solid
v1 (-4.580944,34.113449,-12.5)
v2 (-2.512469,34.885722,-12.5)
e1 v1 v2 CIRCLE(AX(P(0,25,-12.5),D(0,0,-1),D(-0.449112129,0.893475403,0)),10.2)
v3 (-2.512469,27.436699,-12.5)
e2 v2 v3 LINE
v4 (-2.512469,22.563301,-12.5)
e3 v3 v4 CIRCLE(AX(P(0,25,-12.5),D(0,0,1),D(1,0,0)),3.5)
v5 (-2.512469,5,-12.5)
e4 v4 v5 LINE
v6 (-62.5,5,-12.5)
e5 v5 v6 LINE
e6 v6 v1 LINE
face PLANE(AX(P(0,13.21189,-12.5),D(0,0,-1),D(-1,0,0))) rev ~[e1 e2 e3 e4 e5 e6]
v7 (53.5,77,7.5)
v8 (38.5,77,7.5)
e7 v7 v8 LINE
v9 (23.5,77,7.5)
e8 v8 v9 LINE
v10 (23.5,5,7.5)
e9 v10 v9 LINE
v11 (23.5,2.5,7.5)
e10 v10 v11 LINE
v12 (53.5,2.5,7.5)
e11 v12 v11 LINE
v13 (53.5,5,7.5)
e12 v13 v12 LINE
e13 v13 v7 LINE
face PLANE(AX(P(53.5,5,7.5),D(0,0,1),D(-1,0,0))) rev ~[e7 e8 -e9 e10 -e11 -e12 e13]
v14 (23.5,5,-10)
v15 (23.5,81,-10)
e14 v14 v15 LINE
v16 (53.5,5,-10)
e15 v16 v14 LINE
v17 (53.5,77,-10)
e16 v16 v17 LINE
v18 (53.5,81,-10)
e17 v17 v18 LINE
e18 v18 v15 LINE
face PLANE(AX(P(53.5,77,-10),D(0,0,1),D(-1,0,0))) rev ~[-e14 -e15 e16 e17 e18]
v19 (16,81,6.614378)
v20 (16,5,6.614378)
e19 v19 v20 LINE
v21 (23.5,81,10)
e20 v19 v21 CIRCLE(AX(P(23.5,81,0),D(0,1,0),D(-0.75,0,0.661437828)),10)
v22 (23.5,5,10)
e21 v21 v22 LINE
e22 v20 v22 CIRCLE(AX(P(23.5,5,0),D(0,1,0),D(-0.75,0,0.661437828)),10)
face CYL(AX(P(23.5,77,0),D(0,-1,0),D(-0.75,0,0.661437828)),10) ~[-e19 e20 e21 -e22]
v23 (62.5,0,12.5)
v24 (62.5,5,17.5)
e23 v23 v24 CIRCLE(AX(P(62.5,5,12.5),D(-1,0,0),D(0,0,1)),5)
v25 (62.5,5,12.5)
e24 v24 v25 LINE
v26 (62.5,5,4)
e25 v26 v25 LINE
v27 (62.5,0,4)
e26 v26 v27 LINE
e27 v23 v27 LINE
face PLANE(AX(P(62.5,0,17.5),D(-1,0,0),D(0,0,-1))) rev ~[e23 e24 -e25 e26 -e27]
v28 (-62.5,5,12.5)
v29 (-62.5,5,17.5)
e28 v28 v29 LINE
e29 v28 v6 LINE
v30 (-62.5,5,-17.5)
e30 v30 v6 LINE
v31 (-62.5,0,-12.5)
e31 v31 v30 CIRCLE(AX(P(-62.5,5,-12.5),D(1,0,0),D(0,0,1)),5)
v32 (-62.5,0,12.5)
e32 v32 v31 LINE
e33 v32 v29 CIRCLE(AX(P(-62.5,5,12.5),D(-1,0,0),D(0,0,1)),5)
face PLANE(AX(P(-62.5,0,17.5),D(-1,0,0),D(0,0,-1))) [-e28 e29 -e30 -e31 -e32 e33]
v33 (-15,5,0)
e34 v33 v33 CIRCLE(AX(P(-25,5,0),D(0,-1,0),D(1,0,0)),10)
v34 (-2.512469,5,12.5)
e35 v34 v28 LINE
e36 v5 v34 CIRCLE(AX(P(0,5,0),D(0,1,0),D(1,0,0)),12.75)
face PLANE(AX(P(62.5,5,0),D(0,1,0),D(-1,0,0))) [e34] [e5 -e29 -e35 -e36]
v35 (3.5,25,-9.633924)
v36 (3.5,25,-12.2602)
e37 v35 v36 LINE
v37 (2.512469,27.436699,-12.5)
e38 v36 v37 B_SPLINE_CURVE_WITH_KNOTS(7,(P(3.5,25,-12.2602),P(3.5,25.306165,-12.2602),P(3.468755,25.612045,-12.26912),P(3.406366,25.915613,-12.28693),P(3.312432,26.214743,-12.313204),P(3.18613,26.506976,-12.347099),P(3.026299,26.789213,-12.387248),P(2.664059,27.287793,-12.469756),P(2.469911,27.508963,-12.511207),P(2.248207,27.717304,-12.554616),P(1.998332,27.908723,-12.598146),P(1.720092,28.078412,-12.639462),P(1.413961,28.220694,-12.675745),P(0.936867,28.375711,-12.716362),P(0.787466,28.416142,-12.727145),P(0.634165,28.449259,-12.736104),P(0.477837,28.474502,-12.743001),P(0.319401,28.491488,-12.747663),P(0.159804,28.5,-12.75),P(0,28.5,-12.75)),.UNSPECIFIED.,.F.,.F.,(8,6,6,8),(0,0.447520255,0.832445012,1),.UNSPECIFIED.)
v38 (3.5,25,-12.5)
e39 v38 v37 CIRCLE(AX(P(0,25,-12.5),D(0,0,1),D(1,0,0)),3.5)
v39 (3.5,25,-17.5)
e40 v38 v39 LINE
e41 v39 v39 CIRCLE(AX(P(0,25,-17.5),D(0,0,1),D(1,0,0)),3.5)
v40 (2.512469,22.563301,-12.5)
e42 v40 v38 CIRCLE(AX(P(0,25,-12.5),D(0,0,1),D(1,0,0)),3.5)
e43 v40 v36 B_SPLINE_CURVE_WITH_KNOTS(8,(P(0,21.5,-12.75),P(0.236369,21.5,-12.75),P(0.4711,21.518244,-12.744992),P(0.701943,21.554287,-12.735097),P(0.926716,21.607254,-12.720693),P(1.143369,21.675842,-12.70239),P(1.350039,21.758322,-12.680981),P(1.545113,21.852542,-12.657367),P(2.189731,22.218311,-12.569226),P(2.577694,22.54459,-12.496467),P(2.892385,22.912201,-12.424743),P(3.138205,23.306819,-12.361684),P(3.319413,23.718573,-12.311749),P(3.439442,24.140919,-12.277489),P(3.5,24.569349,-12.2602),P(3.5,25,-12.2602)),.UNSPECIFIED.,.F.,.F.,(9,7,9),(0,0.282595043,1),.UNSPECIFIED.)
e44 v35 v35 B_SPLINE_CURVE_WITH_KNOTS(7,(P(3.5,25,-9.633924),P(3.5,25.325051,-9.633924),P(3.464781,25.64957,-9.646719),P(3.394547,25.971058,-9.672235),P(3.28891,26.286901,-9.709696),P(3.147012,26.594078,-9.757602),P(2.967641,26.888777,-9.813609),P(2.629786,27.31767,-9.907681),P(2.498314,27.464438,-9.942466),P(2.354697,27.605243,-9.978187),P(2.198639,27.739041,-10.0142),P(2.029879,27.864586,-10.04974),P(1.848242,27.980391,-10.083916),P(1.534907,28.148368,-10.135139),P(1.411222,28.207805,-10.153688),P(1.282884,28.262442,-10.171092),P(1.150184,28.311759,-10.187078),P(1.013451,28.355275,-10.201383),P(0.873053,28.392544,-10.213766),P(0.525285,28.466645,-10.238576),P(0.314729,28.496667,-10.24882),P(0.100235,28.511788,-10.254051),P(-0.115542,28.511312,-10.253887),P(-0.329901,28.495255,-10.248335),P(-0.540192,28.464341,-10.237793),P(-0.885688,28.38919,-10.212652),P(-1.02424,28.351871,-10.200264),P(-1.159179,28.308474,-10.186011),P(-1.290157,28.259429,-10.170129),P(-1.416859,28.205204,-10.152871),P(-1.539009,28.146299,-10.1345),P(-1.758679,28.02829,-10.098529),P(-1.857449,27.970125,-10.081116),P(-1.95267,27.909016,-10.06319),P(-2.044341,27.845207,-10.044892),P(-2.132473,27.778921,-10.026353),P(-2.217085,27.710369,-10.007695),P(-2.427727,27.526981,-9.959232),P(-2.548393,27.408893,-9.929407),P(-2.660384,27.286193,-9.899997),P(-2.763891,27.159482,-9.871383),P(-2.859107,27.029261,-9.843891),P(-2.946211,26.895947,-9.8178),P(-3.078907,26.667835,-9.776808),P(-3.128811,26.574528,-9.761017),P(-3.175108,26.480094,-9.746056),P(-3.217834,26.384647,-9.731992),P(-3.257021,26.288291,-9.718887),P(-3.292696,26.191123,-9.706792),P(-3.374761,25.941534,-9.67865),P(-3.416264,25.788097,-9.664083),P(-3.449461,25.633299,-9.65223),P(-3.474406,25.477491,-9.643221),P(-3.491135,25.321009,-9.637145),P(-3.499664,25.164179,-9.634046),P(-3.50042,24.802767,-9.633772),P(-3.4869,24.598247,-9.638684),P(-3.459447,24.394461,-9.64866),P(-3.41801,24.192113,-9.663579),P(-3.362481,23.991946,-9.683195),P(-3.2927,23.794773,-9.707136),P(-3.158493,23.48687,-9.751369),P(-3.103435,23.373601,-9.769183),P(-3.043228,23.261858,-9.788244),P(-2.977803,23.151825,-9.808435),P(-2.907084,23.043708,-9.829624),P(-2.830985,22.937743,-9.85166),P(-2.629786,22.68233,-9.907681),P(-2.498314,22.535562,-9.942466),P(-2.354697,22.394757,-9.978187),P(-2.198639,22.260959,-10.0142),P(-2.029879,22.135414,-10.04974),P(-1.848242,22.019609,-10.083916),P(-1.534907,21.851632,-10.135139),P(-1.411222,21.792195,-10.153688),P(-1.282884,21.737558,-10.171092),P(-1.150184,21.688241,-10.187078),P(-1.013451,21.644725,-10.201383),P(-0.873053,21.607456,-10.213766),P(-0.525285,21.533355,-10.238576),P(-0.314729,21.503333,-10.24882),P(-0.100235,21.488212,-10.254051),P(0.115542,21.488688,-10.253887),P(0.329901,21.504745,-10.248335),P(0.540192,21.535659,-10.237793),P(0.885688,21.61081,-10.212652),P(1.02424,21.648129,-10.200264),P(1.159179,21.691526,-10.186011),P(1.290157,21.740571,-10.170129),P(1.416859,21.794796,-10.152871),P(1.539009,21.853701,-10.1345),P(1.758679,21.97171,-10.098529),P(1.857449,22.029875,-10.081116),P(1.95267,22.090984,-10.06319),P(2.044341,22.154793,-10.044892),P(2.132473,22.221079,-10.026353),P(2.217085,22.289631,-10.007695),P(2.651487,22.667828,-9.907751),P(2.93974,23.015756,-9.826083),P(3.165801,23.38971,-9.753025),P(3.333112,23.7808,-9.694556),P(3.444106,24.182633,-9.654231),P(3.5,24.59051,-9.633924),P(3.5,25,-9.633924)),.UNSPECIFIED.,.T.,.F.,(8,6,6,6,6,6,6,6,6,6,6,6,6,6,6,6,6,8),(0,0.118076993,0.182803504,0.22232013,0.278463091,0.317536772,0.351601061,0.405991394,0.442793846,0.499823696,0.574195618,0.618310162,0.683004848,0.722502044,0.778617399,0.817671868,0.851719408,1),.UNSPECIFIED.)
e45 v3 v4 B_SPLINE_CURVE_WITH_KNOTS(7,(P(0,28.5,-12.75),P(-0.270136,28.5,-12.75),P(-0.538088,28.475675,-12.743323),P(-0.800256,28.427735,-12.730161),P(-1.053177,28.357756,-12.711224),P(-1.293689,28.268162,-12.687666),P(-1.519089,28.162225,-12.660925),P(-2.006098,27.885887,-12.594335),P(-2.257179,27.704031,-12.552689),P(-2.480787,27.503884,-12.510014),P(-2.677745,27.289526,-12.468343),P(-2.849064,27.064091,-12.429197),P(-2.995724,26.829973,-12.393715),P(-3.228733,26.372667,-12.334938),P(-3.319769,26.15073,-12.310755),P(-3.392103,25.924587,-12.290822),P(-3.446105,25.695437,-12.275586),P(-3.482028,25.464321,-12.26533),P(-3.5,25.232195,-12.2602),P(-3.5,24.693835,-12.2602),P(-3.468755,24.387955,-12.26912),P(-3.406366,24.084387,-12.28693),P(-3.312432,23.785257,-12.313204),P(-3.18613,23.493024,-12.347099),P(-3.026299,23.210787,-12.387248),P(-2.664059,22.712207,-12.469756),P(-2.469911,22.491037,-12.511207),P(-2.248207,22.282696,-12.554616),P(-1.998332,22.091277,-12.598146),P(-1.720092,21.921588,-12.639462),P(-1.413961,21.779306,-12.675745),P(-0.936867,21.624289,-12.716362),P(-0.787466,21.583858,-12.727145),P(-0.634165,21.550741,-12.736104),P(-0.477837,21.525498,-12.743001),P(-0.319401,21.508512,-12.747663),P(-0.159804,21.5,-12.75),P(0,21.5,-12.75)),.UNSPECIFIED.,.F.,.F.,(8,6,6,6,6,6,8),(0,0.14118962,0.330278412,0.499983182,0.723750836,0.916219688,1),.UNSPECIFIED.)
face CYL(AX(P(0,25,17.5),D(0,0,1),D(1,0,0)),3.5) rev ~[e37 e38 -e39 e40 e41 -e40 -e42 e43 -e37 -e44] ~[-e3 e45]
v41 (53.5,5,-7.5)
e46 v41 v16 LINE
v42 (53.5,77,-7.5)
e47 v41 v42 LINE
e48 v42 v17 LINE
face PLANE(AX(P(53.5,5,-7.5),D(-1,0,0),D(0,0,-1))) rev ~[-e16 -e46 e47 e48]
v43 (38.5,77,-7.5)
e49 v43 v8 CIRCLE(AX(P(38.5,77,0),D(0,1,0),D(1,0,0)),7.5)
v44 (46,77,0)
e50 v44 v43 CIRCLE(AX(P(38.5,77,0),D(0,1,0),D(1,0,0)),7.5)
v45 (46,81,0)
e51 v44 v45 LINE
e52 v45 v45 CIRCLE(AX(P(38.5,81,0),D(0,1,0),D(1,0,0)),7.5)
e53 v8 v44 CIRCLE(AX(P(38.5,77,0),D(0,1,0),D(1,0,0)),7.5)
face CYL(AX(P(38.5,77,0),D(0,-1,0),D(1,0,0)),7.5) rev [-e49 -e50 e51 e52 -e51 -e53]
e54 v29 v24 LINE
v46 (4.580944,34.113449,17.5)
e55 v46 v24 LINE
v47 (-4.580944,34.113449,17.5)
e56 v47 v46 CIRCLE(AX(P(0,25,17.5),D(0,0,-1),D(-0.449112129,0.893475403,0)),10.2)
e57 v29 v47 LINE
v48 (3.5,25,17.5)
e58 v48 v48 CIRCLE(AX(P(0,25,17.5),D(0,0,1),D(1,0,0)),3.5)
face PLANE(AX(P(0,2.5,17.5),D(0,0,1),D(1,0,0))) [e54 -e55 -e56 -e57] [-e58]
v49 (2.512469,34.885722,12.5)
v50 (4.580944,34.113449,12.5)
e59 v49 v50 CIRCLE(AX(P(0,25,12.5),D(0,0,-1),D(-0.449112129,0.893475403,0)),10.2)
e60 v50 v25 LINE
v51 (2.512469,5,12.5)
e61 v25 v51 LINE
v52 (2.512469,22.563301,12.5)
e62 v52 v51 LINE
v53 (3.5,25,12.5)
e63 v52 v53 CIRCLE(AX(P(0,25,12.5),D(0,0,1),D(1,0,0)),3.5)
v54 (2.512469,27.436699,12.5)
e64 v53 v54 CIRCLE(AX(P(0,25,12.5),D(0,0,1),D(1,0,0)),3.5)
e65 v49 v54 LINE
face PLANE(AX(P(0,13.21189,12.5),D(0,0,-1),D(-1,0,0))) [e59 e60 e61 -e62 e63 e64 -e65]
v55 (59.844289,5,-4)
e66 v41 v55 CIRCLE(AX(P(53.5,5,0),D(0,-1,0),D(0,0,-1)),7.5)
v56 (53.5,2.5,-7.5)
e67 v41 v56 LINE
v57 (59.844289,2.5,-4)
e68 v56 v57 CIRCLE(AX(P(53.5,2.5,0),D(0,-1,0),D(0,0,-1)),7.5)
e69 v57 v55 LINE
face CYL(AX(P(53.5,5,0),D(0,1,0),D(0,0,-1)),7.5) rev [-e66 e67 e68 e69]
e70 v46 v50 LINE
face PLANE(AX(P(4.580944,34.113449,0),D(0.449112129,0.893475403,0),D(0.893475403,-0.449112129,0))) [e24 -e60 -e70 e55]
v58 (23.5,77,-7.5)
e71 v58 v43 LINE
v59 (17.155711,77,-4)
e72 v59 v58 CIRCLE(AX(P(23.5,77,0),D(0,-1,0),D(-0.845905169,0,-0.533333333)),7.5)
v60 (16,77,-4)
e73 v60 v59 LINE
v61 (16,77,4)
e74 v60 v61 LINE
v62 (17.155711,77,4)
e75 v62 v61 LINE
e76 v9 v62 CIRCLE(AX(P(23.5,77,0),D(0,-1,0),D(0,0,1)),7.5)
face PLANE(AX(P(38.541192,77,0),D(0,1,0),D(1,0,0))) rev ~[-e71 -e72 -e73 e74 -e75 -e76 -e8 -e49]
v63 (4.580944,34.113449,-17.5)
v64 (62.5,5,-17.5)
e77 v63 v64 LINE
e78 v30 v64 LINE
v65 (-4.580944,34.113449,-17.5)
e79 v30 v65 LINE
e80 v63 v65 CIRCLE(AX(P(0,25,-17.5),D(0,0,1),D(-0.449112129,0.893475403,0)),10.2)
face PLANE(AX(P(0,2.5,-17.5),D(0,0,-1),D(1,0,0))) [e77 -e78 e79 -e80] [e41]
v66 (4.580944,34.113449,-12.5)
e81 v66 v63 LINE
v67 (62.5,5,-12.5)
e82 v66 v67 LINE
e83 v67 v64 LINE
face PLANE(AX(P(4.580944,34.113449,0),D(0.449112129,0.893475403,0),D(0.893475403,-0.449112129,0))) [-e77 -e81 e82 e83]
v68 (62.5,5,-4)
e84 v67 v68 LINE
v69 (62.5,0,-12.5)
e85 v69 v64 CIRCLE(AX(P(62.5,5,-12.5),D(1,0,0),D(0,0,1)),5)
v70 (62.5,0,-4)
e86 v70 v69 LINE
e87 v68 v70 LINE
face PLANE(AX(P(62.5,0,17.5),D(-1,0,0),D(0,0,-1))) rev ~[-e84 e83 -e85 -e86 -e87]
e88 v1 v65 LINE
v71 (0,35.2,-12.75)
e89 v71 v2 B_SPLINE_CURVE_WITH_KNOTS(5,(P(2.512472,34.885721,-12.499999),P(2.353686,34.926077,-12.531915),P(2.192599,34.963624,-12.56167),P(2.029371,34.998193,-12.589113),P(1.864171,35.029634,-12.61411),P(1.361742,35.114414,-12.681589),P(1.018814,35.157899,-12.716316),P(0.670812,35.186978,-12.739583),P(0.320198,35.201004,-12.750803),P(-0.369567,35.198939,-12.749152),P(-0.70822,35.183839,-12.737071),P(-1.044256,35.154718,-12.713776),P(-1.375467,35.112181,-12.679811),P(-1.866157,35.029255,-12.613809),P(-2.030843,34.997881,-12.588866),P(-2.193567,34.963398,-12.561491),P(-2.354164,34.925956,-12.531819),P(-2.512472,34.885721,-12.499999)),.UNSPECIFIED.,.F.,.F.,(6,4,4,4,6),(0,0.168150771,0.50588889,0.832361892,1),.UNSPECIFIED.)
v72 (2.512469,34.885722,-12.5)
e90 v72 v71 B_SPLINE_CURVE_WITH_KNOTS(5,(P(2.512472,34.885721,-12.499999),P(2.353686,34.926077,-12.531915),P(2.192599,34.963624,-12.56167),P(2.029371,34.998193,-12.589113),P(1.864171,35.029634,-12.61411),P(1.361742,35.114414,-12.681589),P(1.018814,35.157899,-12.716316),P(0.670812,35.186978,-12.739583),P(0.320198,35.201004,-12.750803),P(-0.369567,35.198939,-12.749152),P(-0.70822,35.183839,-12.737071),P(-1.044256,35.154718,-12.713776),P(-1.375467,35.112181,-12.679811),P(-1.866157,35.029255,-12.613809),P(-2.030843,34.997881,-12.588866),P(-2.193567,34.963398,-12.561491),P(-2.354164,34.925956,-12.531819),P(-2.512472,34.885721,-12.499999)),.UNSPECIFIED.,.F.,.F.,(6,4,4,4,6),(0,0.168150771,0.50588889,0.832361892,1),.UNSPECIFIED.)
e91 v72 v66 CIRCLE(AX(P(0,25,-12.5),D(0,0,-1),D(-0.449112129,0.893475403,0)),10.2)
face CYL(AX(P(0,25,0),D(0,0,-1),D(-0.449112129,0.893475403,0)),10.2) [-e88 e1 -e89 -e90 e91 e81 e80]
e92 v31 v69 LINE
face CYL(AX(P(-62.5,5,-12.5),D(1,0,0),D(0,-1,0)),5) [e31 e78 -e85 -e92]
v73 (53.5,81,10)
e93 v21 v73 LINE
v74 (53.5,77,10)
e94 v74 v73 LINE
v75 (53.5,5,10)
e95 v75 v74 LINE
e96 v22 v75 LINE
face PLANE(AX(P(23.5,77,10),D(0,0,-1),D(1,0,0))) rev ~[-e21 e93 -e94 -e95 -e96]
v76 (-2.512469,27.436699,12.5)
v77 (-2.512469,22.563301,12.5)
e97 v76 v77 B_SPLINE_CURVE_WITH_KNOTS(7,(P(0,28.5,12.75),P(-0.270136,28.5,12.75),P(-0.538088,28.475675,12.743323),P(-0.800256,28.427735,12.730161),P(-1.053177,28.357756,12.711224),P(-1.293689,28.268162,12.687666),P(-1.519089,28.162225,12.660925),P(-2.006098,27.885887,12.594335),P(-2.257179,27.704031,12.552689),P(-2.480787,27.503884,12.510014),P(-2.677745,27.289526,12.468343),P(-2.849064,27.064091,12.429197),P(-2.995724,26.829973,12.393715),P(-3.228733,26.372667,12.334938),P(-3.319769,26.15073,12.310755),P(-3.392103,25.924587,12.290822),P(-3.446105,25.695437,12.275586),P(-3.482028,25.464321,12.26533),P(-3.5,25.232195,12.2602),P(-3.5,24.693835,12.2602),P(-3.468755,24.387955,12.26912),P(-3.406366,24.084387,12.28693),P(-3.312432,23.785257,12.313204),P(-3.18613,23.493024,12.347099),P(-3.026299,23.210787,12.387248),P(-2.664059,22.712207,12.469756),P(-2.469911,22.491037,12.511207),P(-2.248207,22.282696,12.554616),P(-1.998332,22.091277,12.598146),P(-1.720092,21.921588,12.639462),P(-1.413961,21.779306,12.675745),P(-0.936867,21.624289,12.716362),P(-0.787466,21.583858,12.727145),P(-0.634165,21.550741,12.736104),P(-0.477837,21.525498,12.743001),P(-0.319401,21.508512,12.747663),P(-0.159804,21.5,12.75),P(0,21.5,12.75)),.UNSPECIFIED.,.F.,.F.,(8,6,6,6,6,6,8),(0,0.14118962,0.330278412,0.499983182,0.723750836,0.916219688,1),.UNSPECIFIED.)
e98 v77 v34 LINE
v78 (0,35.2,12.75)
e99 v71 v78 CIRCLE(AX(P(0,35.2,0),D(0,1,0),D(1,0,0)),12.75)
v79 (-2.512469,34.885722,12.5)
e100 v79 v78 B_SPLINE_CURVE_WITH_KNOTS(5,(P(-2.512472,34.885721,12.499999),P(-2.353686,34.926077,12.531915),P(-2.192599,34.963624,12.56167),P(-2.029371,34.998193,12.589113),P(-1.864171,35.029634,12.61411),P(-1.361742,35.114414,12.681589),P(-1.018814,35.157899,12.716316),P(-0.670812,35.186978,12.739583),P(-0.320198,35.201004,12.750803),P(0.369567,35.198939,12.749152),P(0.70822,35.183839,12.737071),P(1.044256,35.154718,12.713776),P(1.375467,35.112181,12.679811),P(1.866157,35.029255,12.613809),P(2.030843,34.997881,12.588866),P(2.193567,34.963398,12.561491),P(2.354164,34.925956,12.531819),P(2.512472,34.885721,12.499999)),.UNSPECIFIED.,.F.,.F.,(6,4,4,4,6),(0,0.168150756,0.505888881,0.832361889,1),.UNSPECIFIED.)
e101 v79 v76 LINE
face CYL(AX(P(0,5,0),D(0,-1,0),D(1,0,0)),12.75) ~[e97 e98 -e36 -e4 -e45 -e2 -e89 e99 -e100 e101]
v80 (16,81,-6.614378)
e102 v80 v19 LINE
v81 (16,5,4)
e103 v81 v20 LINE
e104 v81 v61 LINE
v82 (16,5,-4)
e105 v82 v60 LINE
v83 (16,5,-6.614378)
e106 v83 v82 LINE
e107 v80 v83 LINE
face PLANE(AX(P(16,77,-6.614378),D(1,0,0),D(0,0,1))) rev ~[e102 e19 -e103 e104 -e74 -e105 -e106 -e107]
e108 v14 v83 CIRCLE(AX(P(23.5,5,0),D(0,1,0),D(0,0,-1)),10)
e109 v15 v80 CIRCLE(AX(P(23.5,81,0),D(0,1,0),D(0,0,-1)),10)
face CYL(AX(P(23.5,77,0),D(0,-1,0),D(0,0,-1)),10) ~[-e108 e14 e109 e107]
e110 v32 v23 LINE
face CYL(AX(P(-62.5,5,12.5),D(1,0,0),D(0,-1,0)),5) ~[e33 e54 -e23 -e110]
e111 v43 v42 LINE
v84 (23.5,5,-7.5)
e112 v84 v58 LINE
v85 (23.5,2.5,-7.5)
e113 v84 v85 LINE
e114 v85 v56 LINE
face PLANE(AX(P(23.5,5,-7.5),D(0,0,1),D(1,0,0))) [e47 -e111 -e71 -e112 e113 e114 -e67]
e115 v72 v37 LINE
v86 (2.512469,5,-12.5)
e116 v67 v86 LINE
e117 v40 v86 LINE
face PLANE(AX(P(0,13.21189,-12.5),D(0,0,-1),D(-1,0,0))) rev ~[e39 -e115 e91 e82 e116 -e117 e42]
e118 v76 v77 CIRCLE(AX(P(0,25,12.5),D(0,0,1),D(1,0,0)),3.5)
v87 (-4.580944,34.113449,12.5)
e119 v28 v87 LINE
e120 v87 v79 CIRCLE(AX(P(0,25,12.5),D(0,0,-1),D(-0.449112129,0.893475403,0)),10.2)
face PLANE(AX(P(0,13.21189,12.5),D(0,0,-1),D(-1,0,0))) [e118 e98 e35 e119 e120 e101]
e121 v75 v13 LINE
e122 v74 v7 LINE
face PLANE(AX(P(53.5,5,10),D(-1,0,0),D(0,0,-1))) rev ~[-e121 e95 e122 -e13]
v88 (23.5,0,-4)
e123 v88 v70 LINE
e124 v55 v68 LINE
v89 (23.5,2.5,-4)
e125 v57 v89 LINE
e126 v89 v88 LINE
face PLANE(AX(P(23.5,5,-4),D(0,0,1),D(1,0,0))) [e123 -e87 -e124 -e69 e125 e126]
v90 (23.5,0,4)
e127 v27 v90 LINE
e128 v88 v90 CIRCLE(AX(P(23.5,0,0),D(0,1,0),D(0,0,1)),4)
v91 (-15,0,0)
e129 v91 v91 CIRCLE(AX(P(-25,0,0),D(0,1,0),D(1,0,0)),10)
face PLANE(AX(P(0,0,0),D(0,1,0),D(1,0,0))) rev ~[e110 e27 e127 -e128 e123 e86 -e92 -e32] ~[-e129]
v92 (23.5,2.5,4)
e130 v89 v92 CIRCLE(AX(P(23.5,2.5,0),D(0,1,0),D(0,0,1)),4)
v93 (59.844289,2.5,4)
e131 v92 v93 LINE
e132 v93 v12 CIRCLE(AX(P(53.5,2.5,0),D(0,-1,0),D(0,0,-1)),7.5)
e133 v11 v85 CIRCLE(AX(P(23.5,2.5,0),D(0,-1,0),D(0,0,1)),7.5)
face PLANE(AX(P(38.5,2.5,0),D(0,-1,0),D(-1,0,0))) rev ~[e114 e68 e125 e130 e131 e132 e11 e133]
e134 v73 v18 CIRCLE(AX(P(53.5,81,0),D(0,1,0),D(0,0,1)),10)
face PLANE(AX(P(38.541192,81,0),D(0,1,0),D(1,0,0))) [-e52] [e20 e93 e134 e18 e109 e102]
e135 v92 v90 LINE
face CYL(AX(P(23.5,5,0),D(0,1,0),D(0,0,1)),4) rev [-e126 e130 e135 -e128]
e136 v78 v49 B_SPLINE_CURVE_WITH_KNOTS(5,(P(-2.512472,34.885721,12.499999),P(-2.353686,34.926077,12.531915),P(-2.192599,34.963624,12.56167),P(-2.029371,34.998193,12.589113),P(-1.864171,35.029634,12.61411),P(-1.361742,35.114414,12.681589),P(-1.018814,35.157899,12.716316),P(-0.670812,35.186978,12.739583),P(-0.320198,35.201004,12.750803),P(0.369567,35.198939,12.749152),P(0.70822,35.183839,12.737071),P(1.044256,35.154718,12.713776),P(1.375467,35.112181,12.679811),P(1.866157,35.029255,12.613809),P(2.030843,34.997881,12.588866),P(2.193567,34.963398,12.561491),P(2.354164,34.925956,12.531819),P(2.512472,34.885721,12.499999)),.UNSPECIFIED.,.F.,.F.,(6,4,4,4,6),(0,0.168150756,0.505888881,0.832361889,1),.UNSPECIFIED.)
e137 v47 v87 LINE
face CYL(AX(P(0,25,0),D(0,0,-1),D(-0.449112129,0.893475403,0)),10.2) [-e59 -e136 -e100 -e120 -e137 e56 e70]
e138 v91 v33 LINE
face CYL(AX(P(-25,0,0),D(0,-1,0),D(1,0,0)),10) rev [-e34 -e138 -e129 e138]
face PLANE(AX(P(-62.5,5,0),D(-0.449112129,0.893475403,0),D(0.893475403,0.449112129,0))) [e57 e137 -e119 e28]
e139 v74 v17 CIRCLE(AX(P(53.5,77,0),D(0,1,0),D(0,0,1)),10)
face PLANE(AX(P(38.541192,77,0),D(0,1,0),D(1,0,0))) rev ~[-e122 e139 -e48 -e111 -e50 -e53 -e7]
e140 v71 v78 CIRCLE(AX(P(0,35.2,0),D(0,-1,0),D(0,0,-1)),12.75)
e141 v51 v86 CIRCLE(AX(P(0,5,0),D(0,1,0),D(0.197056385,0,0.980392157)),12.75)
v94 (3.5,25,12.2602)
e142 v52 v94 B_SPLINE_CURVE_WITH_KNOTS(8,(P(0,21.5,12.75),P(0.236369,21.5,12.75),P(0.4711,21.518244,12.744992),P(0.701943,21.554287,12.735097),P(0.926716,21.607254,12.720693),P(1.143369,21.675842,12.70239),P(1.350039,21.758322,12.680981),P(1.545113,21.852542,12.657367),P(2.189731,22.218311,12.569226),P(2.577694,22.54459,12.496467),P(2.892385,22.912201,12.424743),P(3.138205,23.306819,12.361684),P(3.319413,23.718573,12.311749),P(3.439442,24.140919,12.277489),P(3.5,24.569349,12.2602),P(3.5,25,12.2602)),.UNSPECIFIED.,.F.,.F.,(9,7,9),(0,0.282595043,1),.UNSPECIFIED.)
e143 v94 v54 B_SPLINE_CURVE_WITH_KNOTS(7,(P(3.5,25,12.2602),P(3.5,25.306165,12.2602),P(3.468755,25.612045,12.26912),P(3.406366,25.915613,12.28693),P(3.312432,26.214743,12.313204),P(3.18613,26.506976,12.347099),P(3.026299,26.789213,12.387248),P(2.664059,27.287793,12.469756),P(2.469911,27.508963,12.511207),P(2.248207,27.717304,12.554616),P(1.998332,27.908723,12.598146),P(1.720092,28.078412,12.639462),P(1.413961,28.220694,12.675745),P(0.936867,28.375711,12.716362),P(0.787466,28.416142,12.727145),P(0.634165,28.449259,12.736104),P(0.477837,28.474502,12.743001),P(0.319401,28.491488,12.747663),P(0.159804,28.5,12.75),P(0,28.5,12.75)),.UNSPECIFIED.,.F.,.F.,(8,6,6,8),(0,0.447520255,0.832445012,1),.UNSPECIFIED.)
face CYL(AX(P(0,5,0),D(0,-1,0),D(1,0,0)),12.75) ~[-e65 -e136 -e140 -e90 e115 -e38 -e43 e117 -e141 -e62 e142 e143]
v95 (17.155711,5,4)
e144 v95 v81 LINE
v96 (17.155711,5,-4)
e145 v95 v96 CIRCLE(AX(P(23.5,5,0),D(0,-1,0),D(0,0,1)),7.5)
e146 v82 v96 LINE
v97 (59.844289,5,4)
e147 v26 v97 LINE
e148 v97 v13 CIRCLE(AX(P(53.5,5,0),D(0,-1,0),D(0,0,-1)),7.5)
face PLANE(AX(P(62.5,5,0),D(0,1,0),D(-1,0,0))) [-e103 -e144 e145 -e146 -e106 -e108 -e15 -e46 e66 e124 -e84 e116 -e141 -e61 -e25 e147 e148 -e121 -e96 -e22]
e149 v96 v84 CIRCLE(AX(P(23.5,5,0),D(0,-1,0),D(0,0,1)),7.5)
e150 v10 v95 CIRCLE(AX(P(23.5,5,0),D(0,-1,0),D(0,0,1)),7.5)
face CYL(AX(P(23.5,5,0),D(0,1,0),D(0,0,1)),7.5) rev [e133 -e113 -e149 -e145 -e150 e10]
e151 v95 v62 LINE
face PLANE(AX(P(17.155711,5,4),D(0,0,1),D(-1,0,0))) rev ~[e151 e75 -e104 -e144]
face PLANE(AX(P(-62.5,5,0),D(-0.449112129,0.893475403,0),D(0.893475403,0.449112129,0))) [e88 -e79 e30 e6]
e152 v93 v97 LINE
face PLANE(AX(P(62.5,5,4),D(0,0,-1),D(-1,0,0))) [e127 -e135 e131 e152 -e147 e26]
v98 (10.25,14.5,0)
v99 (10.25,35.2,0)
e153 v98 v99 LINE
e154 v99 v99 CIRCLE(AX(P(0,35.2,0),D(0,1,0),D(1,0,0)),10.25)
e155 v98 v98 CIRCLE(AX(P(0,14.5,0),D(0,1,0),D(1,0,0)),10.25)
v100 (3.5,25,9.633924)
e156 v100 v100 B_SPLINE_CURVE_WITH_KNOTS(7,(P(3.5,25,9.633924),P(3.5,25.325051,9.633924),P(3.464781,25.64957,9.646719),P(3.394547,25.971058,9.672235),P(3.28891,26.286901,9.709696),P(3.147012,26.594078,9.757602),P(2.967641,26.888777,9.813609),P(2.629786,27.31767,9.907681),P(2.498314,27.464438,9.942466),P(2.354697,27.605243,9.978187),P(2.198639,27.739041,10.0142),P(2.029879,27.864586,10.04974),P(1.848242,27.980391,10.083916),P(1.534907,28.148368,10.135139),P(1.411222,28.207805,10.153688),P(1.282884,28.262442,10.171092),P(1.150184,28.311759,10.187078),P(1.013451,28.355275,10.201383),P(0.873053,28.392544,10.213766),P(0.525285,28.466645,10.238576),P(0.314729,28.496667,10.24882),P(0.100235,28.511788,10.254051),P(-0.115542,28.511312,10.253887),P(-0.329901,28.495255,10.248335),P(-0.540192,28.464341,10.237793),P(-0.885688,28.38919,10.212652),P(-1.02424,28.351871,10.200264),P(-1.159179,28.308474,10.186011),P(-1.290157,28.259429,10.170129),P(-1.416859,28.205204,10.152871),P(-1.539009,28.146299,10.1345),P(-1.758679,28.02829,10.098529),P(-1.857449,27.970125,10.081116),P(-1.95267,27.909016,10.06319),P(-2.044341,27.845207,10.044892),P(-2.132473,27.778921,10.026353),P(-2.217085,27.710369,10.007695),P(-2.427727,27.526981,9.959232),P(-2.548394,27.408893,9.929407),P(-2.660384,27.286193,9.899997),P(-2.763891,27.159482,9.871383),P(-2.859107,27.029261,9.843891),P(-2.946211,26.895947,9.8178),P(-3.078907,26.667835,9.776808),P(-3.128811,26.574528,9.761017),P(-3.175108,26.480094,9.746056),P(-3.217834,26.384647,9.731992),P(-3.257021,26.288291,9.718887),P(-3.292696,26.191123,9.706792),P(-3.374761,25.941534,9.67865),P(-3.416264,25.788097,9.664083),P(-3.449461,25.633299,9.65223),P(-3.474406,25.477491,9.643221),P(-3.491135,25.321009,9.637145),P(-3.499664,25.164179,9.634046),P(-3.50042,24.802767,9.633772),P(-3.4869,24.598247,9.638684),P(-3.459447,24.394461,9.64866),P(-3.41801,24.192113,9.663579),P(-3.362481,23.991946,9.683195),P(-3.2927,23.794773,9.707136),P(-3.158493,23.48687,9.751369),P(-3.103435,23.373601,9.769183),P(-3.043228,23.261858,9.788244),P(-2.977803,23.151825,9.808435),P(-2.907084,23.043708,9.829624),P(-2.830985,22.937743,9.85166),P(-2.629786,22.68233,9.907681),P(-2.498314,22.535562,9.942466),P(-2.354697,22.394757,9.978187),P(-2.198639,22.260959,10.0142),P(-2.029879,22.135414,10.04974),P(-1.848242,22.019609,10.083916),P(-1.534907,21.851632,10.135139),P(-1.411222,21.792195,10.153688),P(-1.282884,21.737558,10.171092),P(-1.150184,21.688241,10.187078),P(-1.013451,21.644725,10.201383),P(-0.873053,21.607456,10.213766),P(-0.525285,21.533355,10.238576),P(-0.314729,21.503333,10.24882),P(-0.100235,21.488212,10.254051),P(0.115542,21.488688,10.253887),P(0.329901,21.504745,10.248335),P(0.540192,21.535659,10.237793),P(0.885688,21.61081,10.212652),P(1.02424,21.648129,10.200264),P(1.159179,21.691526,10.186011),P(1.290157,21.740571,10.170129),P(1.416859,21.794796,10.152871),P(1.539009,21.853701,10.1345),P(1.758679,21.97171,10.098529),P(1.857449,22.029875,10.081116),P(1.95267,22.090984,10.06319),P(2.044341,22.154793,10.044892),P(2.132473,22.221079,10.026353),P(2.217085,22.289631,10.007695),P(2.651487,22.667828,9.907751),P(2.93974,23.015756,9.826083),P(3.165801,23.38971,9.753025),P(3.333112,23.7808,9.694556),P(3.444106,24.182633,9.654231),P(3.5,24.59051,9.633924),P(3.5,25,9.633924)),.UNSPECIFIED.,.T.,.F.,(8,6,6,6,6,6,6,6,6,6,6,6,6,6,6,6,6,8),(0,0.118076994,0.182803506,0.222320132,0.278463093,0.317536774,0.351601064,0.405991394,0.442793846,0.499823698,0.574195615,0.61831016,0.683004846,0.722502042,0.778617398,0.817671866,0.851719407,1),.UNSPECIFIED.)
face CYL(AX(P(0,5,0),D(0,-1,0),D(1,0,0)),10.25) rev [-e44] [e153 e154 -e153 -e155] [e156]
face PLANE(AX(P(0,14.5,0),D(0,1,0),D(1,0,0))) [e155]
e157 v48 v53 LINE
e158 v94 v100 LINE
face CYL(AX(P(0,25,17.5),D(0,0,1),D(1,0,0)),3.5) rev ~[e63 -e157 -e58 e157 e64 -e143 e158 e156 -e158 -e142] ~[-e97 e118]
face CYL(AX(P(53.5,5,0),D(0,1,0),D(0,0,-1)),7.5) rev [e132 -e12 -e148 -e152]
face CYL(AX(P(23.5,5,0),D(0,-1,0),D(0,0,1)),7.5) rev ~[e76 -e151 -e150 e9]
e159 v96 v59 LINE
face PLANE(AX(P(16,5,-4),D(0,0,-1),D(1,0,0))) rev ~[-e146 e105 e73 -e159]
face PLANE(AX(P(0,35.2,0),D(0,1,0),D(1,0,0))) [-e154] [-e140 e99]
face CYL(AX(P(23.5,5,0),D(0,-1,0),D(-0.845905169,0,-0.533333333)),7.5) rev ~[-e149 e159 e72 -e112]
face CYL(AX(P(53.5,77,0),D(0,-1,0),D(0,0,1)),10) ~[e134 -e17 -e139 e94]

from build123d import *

# Parameters (mm, degrees)
SKETCH2_W                       = 125
SKETCH2_H                       = 35
SKETCH2_R                       = 10
BOSS_EXTRUDE1_DEPTH             = 5
BOSS_EXTRUDE3_REACH             = 19.5
BOSS_EXTRUDE3_DIRECTION_2_REACH = 19.5
CUT_EXTRUDE2_DEPTH              = 12.5
CUT_EXTRUDE2_DEPTH_BACK         = 12.5
SKETCH8_R                       = 12.75
SKETCH8_R_2                     = 10.25
BOSS_EXTRUDE4_DEPTH             = 30.2
FILLET1_R                       = 5
SKETCH9_R                       = 3.5
CUT_EXTRUDE3_DEPTH              = 36.0000001
SKETCH13_R                      = 2
CUT_EXTRUDE5_DEPTH              = 2.5
CUT_EXTRUDE6_DEPTH              = 6
BOSS_EXTRUDE7_DEPTH             = 72
SKETCH17_R                      = 7.5
BOSS_EXTRUDE8_DEPTH             = 4
SKETCH18_R                      = 10.25
BOSS_EXTRUDE9_DEPTH             = 9.5


with BuildPart() as part:
    # Sketch2 → Boss-Extrude1 (new body)
    with BuildSketch(Plane(origin=(0, 0, 0), x_dir=(1, 0, 0), z_dir=(0, 1, 0))):
        Rectangle(SKETCH2_W, SKETCH2_H)
        with Locations((-25, 0)):
            Circle(SKETCH2_R, mode=Mode.SUBTRACT)
    extrude(amount=BOSS_EXTRUDE1_DEPTH)

    # Boss-Extrude3: up to this face of the body (flat: up to its plane)
    boss_extrude3_end = Plane(part.part.faces().sort_by_distance((0, 2.5, -17.5))[0])
    # Sketch6 → Boss-Extrude3 (add, up to the picked face)
    with BuildSketch(Plane.XY, mode=Mode.PRIVATE) as boss_extrude3_sk1:
        with BuildLine():
            Line((-62.5, 5), (-4.580943715, 34.11344911))
            ThreePointArc((-4.580943715, 34.11344911), (0, 35.2), (4.580943715, 34.11344911))
            Line((4.580943715, 34.11344911), (62.5, 5))
            Line((62.5, 5), (-62.5, 5))
        make_face()
    boss_extrude3_tool1 = split(extrude(boss_extrude3_sk1.sketch, amount=-BOSS_EXTRUDE3_REACH, mode=Mode.PRIVATE), bisect_by=boss_extrude3_end, keep=Keep.BOTH, mode=Mode.PRIVATE)
    add(boss_extrude3_tool1.solids().sort_by_distance((0, 15.43289, 0))[0])

    # Boss-Extrude3 direction 2: up to this face of the body (flat: up to its plane)
    boss_extrude3_direction_2_end = Plane(part.part.faces().sort_by_distance((0, 2.5, 17.5))[0])
    # Sketch6 → Boss-Extrude3 direction 2 (add, up to the picked face)
    with BuildSketch(Plane.XY, mode=Mode.PRIVATE) as boss_extrude3_direction_2_sk1:
        with BuildLine():
            Line((-62.5, 5), (-4.580943715, 34.11344911))
            ThreePointArc((-4.580943715, 34.11344911), (0, 35.2), (4.580943715, 34.11344911))
            Line((4.580943715, 34.11344911), (62.5, 5))
            Line((62.5, 5), (-62.5, 5))
        make_face()
    boss_extrude3_direction_2_tool1 = split(extrude(boss_extrude3_direction_2_sk1.sketch, amount=BOSS_EXTRUDE3_DIRECTION_2_REACH, mode=Mode.PRIVATE), bisect_by=boss_extrude3_direction_2_end, keep=Keep.BOTH, mode=Mode.PRIVATE)
    add(boss_extrude3_direction_2_tool1.solids().sort_by_distance((0, 15.43289, 0))[0])

    # Sketch7 → Cut-Extrude2 (cut, two sides)
    with BuildSketch(Plane.XY) as cut_extrude2_sk:
        with BuildLine():
            Line((4.580943715, 34.11344911), (62.5, 5))
            Line((62.5, 5), (-62.5, 5))
            Line((-62.5, 5), (-4.580943715, 34.11344911))
            ThreePointArc((-4.580943715, 34.11344911), (0, 35.2), (4.580943715, 34.11344911))
        make_face()
    extrude(amount=CUT_EXTRUDE2_DEPTH, mode=Mode.SUBTRACT)
    extrude(cut_extrude2_sk.sketch, amount=-CUT_EXTRUDE2_DEPTH_BACK, mode=Mode.SUBTRACT)

    # Sketch8 → Boss-Extrude4 (add)
    with BuildSketch(Plane(origin=(0, 5, 0), x_dir=(1, 0, 0), z_dir=(0, 1, 0))):
        Circle(SKETCH8_R)
        Circle(SKETCH8_R_2, mode=Mode.SUBTRACT)
    extrude(amount=BOSS_EXTRUDE4_DEPTH)

    # Fillet1
    fillet1_edges = [part.edges().sort_by_distance(p)[0] for p in [
        (0, 0, -17.5),
        (0, 0, 17.5),
    ]]
    fillet(fillet1_edges, radius=FILLET1_R)

    # Sketch9 → Cut-Extrude3 (cut, through all)
    with BuildSketch(Plane.XY.offset(17.5)):
        with Locations((0, 25)):
            Circle(SKETCH9_R)
    extrude(amount=-CUT_EXTRUDE3_DEPTH, mode=Mode.SUBTRACT)

    # Sketch13 → Cut-Extrude5 (cut)
    with BuildSketch(Plane(origin=(0, 5, 0), x_dir=(1, 0, 0), z_dir=(0, 1, 0))):
        with BuildLine():
            Line((23.5, 7.5), (53.5, 7.5))
            ThreePointArc((53.5, 7.5), (61, 0), (53.5, -7.5))
            Line((53.5, -7.5), (23.5, -7.5))
            ThreePointArc((23.5, -7.5), (16, 0), (23.5, 7.5))
        make_face()
        with Locations((31.5, 0)):
            Circle(SKETCH13_R, mode=Mode.SUBTRACT)
        with Locations((24.5, 0)):
            Circle(SKETCH13_R, mode=Mode.SUBTRACT)
        with Locations((38.5, 0)):
            Circle(SKETCH13_R, mode=Mode.SUBTRACT)
        with Locations((45.5, 0)):
            Circle(SKETCH13_R, mode=Mode.SUBTRACT)
        with Locations((52.5, 0)):
            Circle(SKETCH13_R, mode=Mode.SUBTRACT)
    extrude(amount=-CUT_EXTRUDE5_DEPTH, mode=Mode.SUBTRACT)

    # Sketch15 → Cut-Extrude6 (cut, through all)
    with BuildSketch(Plane(origin=(0, 5, 0), x_dir=(1, 0, 0), z_dir=(0, 1, 0))):
        with BuildLine():
            Line((23.5, 4), (53.5, 4))
            Line((53.5, 4), (62.5, 4))
            Line((62.5, 4), (62.5, -4))
            Line((62.5, -4), (53.5, -4))
            Line((53.5, -4), (23.5, -4))
            ThreePointArc((23.5, -4), (19.5, 0), (23.5, 4))
        make_face()
    extrude(amount=-CUT_EXTRUDE6_DEPTH, mode=Mode.SUBTRACT)

    # Sketch16 → Boss-Extrude7 (add)
    with BuildSketch(Plane(origin=(0, 5, 0), x_dir=(1, 0, 0), z_dir=(0, 1, 0))):
        with BuildLine():
            Line((16, -4), (16, -6.614378278))
            ThreePointArc((16, -6.614378278), (19.385621722, -9.114378278), (23.5, -10))
            Line((23.5, -10), (53.5, -10))
            Line((53.5, -10), (53.5, -7.5))
            Line((53.5, -7.5), (23.5, -7.5))
            ThreePointArc((23.5, -7.5), (19.877155813, -6.566962768), (17.15571123, -4))
            Line((17.15571123, -4), (16, -4))
        make_face()
        with BuildLine():
            Line((53.5, 10), (23.5, 10))
            ThreePointArc((23.5, 10), (19.385621722, 9.114378278), (16, 6.614378278))
            Line((16, 6.614378278), (16, 4))
            Line((16, 4), (17.15571123, 4))
            ThreePointArc((17.15571123, 4), (19.877155813, 6.566962768), (23.5, 7.5))
            Line((23.5, 7.5), (53.5, 7.5))
            Line((53.5, 7.5), (53.5, 10))
        make_face()
    extrude(amount=BOSS_EXTRUDE7_DEPTH)

    # Sketch17 → Boss-Extrude8 (add)
    with BuildSketch(Plane(origin=(0, 77, 0), x_dir=(1, 0, 0), z_dir=(0, 1, 0))):
        with BuildLine():
            Line((23.5, -10), (53.5, -10))
            ThreePointArc((53.5, -10), (63.5, 0), (53.5, 10))
            Line((53.5, 10), (23.5, 10))
            ThreePointArc((23.5, 10), (19.385621722, 9.114378278), (16, 6.614378278))
            Line((16, 6.614378278), (16, 4))
            Line((16, 4), (16, -4))
            Line((16, -4), (16, -6.614378278))
            ThreePointArc((16, -6.614378278), (19.385621722, -9.114378278), (23.5, -10))
        make_face()
        with Locations((38.5, 0)):
            Circle(SKETCH17_R, mode=Mode.SUBTRACT)
    extrude(amount=BOSS_EXTRUDE8_DEPTH)

    # Sketch18 → Boss-Extrude9 (add)
    with BuildSketch(Plane(origin=(0, 5, 0), x_dir=(1, 0, 0), z_dir=(0, 1, 0))):
        Circle(SKETCH18_R)
    extrude(amount=BOSS_EXTRUDE9_DEPTH)


solid = part.part
